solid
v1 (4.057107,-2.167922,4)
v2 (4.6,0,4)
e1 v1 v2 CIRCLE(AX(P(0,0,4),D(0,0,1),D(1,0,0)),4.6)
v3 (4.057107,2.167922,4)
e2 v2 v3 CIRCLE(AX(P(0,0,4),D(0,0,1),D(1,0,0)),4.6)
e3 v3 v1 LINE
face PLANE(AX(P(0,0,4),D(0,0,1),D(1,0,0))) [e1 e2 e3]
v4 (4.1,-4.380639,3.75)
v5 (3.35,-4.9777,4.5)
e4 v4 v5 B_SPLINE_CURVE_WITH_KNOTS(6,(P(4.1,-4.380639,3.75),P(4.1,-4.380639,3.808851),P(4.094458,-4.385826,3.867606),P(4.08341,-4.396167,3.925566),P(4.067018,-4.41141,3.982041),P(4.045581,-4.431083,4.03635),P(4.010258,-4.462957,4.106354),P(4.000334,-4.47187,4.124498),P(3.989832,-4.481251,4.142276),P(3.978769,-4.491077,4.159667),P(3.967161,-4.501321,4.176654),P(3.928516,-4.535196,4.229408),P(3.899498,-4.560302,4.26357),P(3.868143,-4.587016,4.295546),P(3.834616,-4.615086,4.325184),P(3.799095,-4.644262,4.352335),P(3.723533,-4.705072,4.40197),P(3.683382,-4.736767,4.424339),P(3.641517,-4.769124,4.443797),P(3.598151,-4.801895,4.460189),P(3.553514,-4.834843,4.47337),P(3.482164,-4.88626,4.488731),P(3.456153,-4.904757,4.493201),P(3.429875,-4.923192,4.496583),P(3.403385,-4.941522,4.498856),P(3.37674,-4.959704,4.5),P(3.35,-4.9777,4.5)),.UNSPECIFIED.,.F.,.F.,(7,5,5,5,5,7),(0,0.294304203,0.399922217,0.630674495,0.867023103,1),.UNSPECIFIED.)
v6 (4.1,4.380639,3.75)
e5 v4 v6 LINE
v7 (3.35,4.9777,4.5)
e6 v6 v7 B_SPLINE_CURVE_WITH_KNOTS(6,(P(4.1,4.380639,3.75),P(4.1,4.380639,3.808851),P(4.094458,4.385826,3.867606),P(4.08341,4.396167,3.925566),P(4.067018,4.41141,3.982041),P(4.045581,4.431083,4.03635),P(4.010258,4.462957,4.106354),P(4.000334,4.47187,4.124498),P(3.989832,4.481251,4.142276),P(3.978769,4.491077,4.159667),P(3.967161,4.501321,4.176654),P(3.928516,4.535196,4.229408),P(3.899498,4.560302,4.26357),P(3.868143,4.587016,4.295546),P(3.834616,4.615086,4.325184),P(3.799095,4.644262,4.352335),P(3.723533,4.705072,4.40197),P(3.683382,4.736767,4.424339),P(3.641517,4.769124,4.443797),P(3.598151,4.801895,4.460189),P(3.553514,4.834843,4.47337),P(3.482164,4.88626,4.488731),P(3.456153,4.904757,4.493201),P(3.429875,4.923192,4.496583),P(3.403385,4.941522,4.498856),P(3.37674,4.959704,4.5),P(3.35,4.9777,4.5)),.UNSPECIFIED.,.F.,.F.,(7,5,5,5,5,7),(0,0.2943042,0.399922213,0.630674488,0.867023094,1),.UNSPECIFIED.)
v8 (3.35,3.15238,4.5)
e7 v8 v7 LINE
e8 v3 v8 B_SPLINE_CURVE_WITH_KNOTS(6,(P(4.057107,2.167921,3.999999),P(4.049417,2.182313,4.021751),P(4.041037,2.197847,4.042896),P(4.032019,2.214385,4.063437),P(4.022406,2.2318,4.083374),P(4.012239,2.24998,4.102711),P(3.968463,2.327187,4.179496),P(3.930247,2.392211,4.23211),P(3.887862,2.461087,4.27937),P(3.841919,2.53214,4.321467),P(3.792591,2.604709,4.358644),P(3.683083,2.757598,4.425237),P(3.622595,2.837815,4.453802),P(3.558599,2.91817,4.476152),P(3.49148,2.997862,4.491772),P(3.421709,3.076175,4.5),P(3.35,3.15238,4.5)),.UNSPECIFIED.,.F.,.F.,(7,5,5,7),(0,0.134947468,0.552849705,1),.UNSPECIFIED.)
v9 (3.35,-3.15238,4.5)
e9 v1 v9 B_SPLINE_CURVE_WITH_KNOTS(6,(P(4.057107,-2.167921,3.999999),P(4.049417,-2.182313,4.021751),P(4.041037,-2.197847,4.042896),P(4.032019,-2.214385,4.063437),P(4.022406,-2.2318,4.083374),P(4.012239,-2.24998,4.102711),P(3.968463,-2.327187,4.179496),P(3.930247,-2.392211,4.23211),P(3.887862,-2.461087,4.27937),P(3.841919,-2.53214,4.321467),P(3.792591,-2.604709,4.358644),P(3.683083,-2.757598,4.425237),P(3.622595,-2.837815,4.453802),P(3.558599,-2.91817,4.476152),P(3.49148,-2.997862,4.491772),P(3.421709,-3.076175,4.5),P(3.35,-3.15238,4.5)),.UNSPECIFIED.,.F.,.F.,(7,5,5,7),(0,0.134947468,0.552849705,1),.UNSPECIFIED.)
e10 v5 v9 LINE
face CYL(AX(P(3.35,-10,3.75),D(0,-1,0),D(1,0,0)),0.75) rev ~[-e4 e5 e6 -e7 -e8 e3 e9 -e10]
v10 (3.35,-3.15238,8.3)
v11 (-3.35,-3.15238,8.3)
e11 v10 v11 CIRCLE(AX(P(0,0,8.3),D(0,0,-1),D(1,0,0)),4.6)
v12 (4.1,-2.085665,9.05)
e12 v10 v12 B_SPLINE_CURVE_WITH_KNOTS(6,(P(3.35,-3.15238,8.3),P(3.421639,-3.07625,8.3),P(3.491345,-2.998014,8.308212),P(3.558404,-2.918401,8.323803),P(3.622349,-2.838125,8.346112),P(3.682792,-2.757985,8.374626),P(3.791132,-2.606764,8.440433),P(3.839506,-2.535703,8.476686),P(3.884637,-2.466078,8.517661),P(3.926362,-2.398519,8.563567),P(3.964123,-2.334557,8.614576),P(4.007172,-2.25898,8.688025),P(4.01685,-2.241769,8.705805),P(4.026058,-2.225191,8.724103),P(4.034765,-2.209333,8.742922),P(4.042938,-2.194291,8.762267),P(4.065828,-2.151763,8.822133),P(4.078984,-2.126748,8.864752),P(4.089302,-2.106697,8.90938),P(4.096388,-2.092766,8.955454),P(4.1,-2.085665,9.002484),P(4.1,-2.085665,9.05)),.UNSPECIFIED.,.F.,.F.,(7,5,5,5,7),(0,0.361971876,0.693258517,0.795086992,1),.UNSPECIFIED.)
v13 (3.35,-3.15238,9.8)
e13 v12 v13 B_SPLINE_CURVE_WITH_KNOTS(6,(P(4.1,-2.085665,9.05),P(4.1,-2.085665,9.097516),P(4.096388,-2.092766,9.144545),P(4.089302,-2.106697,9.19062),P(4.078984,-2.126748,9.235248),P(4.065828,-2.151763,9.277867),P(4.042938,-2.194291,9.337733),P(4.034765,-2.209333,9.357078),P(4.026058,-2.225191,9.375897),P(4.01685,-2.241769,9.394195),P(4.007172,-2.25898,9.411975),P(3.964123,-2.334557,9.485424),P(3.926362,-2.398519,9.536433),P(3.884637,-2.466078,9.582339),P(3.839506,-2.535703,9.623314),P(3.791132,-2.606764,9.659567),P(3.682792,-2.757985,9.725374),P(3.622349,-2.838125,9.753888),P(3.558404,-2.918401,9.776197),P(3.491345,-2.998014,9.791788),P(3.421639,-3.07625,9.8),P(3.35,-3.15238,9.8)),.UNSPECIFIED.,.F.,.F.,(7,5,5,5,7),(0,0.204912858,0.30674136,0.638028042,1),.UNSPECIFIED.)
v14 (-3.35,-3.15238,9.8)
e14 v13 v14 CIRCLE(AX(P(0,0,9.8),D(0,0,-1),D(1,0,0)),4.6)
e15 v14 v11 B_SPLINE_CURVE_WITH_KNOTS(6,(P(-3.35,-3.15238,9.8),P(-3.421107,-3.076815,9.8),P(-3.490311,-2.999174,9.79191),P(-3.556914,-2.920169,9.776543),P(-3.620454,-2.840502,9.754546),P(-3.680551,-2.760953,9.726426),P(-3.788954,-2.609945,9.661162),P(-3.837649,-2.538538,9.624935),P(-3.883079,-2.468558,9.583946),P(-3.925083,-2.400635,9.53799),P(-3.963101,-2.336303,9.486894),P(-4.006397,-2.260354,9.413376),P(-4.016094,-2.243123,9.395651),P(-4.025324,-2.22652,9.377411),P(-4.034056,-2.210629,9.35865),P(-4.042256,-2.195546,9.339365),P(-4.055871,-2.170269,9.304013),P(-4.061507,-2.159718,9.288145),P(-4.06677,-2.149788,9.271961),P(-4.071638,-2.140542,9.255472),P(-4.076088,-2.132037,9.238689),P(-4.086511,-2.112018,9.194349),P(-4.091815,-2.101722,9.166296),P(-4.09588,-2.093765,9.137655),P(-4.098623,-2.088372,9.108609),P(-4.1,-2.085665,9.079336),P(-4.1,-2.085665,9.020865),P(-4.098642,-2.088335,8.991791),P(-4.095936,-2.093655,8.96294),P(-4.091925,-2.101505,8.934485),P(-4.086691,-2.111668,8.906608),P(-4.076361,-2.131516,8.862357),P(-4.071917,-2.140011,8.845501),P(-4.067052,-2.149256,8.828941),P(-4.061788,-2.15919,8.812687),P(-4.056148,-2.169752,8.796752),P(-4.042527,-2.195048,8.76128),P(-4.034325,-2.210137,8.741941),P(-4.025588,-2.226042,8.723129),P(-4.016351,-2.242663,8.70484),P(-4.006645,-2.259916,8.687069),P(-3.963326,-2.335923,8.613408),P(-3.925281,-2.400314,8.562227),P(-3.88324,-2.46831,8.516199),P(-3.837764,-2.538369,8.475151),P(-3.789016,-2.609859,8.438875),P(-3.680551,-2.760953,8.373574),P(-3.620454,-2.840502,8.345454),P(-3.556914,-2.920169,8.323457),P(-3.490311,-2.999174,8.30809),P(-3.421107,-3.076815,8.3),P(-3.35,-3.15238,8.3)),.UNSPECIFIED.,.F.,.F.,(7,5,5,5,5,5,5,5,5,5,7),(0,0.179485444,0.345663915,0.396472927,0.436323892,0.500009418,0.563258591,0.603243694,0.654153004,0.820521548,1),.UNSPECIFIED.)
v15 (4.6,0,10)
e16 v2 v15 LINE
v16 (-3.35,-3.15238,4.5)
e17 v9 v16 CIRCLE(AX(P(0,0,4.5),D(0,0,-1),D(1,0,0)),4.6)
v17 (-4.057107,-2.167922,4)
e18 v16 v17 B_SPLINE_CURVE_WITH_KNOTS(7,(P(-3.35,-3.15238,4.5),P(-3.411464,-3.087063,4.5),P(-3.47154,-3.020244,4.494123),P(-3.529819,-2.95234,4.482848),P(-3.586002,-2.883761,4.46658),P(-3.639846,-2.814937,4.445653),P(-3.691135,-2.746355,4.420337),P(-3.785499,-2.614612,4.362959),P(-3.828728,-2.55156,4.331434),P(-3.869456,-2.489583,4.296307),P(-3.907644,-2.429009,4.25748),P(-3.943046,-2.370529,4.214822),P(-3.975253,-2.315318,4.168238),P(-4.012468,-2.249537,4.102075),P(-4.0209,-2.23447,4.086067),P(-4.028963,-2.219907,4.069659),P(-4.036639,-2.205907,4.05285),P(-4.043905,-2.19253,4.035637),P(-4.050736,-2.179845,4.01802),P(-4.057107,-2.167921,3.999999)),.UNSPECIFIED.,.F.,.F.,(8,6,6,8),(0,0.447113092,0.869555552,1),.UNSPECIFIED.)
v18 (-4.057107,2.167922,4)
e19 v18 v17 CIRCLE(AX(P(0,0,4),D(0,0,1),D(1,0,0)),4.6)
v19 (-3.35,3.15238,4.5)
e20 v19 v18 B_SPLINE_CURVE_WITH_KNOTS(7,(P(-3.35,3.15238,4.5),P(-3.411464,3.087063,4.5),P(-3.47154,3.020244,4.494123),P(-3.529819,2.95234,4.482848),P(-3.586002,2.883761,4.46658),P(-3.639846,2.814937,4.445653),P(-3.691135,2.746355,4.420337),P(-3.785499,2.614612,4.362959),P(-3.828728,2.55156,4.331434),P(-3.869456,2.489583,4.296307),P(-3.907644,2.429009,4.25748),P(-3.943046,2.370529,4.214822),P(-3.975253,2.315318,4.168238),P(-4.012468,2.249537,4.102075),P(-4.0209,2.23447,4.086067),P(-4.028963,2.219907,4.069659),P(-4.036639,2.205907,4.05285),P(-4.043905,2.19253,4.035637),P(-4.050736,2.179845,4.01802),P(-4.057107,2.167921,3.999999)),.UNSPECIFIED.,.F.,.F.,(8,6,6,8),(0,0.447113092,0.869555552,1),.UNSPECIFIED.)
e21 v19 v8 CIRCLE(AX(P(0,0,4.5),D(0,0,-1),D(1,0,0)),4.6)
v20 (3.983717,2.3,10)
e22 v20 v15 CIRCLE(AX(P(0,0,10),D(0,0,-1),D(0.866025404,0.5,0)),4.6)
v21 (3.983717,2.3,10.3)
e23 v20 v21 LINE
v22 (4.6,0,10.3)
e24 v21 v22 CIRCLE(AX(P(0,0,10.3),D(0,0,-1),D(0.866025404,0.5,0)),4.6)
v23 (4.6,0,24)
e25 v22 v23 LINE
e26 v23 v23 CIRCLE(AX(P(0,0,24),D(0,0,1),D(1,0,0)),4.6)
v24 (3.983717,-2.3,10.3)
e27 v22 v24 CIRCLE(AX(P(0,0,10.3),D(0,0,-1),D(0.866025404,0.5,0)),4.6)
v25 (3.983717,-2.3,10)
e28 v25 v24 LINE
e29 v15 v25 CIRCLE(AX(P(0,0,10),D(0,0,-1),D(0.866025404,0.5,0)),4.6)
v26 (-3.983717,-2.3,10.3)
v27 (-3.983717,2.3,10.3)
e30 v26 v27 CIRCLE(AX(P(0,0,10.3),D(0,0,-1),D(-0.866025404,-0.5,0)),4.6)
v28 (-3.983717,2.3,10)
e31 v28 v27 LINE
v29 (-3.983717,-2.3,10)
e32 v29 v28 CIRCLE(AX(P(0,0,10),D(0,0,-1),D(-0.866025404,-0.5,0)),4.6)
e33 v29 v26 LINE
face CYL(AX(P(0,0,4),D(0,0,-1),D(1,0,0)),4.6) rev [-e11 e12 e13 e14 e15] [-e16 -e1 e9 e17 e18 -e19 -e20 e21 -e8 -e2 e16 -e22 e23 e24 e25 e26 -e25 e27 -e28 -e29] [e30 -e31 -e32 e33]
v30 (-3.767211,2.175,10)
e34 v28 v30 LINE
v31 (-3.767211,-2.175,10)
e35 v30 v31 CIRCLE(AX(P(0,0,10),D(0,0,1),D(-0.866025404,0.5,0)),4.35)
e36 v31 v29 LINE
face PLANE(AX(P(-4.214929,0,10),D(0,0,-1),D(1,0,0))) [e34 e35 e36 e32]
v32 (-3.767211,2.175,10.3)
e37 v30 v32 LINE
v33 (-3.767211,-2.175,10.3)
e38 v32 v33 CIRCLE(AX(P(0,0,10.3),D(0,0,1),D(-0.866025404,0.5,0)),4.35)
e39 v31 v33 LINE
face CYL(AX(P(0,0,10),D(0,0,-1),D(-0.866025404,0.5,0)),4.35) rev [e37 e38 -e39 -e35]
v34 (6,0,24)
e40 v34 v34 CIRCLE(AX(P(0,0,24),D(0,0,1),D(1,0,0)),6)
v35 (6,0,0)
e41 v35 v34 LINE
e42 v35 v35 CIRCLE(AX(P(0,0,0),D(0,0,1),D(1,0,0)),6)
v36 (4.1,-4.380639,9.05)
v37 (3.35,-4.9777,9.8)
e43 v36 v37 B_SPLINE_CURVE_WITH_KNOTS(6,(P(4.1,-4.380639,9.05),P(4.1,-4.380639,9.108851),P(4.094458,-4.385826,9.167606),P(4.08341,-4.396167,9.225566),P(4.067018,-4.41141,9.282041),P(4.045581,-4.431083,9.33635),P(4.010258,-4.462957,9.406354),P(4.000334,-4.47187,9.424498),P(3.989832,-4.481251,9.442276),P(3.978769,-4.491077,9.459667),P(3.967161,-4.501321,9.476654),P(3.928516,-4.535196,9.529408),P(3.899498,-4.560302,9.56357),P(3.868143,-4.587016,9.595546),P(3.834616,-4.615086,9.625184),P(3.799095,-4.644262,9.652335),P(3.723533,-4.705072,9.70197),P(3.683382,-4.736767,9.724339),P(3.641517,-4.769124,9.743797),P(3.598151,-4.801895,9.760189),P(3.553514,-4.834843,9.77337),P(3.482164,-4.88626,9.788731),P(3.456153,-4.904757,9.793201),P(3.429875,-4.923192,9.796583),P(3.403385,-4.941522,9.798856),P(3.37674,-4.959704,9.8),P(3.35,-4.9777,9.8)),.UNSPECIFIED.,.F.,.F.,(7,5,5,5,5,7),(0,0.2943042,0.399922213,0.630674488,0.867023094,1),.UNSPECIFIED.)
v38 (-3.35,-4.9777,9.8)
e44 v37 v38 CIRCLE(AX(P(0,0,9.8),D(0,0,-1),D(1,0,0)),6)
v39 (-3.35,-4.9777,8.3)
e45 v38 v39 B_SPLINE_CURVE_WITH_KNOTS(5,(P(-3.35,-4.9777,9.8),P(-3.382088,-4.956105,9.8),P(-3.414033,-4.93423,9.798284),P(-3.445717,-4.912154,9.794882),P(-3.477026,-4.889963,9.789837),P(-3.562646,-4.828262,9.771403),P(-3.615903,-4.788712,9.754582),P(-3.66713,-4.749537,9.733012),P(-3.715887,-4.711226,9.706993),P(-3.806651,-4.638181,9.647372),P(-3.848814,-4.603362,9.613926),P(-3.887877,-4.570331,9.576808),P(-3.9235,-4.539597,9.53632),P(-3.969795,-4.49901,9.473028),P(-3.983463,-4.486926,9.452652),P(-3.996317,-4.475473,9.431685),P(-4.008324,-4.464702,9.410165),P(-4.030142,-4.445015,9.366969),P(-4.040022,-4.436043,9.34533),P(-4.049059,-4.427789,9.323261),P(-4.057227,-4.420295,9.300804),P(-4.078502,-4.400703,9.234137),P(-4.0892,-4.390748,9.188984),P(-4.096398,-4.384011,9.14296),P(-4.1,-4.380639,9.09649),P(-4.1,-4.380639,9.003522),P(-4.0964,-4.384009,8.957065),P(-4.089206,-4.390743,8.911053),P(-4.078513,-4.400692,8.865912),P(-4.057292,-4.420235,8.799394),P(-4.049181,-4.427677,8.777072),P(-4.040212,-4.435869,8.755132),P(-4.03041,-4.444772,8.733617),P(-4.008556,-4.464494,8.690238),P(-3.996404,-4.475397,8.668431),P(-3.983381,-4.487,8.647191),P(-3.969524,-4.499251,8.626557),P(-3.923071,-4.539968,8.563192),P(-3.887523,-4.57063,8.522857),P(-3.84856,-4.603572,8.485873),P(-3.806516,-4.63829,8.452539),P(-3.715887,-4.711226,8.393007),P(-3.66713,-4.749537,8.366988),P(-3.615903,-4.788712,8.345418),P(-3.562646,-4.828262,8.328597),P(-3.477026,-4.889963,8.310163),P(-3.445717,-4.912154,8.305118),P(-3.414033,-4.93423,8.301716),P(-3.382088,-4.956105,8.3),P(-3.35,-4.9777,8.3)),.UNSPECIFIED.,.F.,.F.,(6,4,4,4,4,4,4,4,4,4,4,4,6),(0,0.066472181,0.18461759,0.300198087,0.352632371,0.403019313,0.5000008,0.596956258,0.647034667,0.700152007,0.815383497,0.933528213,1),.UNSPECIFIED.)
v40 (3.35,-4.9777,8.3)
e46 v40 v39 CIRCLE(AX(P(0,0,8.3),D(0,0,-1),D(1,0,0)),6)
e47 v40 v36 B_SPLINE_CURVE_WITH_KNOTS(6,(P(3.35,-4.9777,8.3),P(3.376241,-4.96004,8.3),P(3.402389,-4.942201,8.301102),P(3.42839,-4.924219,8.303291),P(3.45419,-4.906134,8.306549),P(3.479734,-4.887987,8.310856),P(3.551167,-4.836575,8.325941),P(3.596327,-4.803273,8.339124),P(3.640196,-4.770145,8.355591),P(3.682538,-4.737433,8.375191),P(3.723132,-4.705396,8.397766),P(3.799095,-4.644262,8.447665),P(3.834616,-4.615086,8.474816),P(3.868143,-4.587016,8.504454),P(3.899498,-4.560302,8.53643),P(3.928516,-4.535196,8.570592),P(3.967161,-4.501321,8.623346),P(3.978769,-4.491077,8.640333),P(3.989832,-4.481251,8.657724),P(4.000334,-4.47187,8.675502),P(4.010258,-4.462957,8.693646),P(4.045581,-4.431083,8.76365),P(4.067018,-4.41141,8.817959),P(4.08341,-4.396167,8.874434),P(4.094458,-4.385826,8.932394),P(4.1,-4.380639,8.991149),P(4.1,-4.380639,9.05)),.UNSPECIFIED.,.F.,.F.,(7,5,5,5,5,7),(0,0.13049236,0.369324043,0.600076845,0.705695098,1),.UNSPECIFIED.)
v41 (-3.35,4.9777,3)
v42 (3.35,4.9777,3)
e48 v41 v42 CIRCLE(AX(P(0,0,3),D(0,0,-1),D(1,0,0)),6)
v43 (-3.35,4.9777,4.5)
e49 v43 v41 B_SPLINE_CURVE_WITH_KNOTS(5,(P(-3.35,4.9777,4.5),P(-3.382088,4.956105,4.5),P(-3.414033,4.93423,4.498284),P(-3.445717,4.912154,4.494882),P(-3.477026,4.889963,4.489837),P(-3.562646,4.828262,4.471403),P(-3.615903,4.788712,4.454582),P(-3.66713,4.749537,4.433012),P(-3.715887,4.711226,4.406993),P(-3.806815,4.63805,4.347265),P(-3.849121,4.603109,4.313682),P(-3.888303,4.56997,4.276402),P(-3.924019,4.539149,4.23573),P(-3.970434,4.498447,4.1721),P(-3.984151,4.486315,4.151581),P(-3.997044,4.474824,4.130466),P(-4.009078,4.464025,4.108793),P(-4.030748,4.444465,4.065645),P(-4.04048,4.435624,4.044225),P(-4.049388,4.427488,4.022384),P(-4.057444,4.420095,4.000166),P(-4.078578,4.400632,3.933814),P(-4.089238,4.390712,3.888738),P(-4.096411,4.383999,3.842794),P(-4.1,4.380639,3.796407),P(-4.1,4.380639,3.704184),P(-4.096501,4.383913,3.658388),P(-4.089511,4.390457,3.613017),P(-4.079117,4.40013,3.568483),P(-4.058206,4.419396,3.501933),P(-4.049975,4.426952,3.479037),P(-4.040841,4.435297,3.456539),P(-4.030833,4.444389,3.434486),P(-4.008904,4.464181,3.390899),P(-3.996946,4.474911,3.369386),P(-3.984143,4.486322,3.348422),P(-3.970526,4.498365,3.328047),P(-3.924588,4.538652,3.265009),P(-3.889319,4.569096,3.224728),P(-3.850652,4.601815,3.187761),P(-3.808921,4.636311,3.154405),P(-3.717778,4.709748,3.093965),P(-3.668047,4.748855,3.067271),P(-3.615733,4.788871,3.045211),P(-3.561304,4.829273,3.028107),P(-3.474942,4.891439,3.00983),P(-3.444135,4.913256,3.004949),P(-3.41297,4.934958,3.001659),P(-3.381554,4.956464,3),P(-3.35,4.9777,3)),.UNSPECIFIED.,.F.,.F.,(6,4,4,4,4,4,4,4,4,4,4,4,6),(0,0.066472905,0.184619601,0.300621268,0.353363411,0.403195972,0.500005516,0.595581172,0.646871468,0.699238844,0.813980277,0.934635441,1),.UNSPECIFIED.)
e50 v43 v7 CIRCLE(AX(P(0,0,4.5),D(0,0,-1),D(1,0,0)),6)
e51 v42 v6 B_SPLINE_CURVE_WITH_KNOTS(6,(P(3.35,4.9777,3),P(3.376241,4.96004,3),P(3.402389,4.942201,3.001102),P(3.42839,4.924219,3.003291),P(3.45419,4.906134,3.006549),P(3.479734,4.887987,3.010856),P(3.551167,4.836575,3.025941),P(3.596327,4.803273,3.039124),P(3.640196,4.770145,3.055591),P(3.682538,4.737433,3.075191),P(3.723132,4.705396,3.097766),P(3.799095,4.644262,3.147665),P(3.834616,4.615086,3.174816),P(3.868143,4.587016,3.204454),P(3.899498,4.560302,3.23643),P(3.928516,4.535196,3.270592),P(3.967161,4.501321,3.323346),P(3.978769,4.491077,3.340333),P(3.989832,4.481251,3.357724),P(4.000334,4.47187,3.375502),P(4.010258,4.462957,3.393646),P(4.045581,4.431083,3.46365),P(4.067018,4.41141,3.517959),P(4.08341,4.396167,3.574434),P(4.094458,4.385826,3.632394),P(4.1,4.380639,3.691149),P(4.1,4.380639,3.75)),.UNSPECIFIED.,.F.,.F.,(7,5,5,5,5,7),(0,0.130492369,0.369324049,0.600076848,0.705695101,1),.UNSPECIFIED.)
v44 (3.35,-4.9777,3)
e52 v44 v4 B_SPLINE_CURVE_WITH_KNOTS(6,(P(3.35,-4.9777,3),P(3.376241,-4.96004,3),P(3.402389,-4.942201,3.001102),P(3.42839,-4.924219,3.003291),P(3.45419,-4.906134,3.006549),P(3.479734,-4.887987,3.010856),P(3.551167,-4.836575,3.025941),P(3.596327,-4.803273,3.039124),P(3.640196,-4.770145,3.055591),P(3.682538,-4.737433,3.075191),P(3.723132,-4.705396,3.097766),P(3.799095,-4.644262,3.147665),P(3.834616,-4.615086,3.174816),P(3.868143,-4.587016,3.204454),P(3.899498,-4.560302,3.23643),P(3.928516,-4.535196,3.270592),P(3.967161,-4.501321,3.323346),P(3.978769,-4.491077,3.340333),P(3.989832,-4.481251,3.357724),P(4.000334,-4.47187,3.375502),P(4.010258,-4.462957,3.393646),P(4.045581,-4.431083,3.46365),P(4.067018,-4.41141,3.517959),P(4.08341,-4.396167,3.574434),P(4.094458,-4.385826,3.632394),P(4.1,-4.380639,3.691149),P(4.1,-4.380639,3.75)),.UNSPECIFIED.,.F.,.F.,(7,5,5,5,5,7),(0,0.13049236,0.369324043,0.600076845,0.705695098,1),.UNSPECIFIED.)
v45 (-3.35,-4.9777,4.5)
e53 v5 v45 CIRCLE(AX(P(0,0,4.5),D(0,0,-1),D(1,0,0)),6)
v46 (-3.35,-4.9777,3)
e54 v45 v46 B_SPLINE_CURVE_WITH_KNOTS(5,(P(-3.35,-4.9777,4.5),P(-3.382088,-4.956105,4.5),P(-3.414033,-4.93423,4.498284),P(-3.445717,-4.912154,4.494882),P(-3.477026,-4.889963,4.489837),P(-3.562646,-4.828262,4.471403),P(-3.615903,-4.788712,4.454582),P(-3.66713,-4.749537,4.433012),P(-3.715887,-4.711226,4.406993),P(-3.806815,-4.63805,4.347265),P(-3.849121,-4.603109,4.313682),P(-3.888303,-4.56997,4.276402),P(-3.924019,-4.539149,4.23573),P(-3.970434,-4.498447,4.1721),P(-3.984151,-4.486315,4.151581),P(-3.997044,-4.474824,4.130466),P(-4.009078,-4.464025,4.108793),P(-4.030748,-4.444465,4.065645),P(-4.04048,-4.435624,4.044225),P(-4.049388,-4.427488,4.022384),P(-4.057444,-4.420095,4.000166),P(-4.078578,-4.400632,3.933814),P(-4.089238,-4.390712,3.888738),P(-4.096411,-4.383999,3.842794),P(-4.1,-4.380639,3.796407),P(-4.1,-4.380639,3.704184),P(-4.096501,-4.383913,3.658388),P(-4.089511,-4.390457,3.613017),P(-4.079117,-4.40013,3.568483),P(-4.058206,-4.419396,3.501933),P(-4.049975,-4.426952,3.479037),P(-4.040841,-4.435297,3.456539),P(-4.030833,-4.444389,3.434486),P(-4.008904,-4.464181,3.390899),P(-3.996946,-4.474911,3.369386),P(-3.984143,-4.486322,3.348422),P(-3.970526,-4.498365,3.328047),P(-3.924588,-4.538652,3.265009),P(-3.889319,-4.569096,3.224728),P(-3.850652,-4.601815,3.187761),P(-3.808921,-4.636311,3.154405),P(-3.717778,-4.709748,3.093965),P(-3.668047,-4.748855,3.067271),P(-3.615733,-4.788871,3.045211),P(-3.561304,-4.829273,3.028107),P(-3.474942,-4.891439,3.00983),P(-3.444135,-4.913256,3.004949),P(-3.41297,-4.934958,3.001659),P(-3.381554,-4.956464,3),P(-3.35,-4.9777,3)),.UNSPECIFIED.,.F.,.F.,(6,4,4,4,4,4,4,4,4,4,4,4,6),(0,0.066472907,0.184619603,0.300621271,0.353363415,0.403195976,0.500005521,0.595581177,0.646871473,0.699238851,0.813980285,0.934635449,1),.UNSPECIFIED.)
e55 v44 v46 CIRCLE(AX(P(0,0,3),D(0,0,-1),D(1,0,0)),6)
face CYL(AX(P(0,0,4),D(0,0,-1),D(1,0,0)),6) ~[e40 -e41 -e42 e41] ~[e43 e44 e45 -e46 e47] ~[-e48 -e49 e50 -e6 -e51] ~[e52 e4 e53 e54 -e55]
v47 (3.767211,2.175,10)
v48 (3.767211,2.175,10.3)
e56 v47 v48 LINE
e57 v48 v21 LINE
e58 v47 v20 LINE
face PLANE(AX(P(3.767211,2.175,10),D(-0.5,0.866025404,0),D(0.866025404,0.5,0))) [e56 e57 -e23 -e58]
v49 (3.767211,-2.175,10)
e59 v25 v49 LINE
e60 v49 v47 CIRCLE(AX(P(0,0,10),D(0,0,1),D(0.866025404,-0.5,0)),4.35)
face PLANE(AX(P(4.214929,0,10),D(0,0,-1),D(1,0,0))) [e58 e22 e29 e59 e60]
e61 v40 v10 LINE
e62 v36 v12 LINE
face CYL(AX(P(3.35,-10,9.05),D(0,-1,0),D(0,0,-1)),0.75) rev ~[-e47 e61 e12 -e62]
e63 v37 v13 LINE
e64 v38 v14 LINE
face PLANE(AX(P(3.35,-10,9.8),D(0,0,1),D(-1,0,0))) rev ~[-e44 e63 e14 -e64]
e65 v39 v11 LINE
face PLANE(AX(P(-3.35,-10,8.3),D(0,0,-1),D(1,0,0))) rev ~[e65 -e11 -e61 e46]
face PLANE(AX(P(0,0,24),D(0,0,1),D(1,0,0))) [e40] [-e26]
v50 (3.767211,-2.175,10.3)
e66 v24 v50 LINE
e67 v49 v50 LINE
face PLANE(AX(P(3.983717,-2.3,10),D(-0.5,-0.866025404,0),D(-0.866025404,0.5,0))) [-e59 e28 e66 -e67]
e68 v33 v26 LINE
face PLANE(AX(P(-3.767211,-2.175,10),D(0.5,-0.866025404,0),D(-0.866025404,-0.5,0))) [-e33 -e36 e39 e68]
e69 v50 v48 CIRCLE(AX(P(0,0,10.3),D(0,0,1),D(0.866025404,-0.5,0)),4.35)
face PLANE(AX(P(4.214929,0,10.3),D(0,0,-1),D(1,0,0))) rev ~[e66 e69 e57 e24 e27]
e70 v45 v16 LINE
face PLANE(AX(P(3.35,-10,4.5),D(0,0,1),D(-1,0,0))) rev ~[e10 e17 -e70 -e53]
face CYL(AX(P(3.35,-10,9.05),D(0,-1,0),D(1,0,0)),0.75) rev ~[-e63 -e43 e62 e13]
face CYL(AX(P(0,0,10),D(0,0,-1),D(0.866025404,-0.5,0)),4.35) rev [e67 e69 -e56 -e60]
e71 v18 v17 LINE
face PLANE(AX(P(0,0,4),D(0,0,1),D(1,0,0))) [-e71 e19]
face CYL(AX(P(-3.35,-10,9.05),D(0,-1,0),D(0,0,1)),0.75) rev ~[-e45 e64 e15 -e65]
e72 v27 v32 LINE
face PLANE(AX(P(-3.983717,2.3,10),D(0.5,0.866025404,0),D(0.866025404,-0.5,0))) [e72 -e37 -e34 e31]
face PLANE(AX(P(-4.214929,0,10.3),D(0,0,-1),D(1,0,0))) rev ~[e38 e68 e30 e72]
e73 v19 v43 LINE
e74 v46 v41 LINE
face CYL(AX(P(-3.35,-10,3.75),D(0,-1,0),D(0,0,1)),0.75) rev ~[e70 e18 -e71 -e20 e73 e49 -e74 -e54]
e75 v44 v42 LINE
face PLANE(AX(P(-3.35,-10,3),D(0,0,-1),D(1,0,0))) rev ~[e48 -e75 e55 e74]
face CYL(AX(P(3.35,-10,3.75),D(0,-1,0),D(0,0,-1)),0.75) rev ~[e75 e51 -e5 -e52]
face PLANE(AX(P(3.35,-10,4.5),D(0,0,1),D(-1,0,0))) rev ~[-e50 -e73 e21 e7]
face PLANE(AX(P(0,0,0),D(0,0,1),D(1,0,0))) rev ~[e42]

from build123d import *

# Parameters (mm, degrees)
F0_R      = 6
F1_DEPTH  = 4
F2_R      = 6
F2_R_2    = 4.6
F3_DEPTH  = 20
F6_DEPTH  = 25
F9_DEPTH  = 0.3
F11_DEPTH = 10


with BuildPart() as f1:
    # F0 (on Top) → F1 (new body)
    with BuildSketch(Plane.XY):
        Circle(F0_R)
    extrude(amount=F1_DEPTH)

    # F2 (on face) → F3 (join)
    with BuildSketch(Plane.XY.offset(4)):
        Circle(F2_R)
        Circle(F2_R_2, mode=Mode.SUBTRACT)
    extrude(amount=F3_DEPTH)

    # F5 (on offset) → F6 (cut)
    with BuildSketch(Plane.XZ.offset(10)):
        with BuildLine():
            ThreePointArc((-2.6, 3.75), (-2.8196699141, 4.2803300859), (-3.35, 4.5))
            Line((-3.35, 4.5), (-3.35, 3))
            ThreePointArc((-3.35, 3), (-2.8196699141, 3.2196699141), (-2.6, 3.75))
        make_face()
        with BuildLine():
            Line((3.35, 4.5), (-3.35, 4.5))
            ThreePointArc((-3.35, 4.5), (-2.8196699141, 4.2803300859), (-2.6, 3.75))
            ThreePointArc((-2.6, 3.75), (-2.8196699141, 3.2196699141), (-3.35, 3))
            Line((-3.35, 3), (3.35, 3))
            ThreePointArc((3.35, 3), (2.6, 3.75), (3.35, 4.5))
        make_face()
        with BuildLine():
            Line((-3.35, 3), (-3.35, 4.5))
            ThreePointArc((-3.35, 4.5), (-4.1, 3.75), (-3.35, 3))
        make_face()
        with BuildLine():
            ThreePointArc((4.1, 3.75), (3.8803300859, 4.2803300859), (3.35, 4.5))
            Line((3.35, 4.5), (3.35, 3))
            ThreePointArc((3.35, 3), (3.8803300859, 3.2196699141), (4.1, 3.75))
        make_face()
        with BuildLine():
            Line((3.35, 3), (3.35, 4.5))
            ThreePointArc((3.35, 4.5), (2.6, 3.75), (3.35, 3))
        make_face()
    extrude(amount=-F6_DEPTH, mode=Mode.SUBTRACT)

    # F8 (on offset) → F9 (join)
    with BuildSketch(Plane(origin=(0, 0, 10), x_dir=(1, 0, 0), z_dir=(0, 0, -1))):
        with BuildLine():
            ThreePointArc((-3.7672105065, -2.175), (-4.35, 0), (-3.7672105065, 2.175))
            Line((-3.7672105065, 2.175), (-3.9837168574, 2.3))
            ThreePointArc((-3.9837168574, 2.3), (-4.6, 0), (-3.9837168574, -2.3))
            Line((-3.9837168574, -2.3), (-3.7672105065, -2.175))
        make_face()
        with BuildLine():
            Line((3.7672105065, -2.175), (3.9837168574, -2.3))
            ThreePointArc((3.9837168574, -2.3), (4.6, 0), (3.9837168574, 2.3))
            Line((3.9837168574, 2.3), (3.7672105065, 2.175))
            ThreePointArc((3.7672105065, 2.175), (4.35, 0), (3.7672105065, -2.175))
        make_face()
    extrude(amount=-F9_DEPTH)

    # F10 (on offset) → F11 (cut)
    with BuildSketch(Plane.XZ.offset(10)):
        with BuildLine():
            ThreePointArc((-2.6, 9.05), (-2.8196699141, 9.5803300859), (-3.35, 9.8))
            Line((-3.35, 9.8), (-3.35, 8.3))
            ThreePointArc((-3.35, 8.3), (-2.8196699141, 8.5196699141), (-2.6, 9.05))
        make_face()
        with BuildLine():
            Line((3.35, 9.8), (-3.35, 9.8))
            ThreePointArc((-3.35, 9.8), (-2.8196699141, 9.5803300859), (-2.6, 9.05))
            ThreePointArc((-2.6, 9.05), (-2.8196699141, 8.5196699141), (-3.35, 8.3))
            Line((-3.35, 8.3), (3.35, 8.3))
            ThreePointArc((3.35, 8.3), (2.6, 9.05), (3.35, 9.8))
        make_face()
        with BuildLine():
            Line((-3.35, 8.3), (-3.35, 9.8))
            ThreePointArc((-3.35, 9.8), (-4.1, 9.05), (-3.35, 8.3))
        make_face()
        with BuildLine():
            ThreePointArc((4.1, 9.05), (3.8803300859, 9.5803300859), (3.35, 9.8))
            Line((3.35, 9.8), (3.35, 8.3))
            ThreePointArc((3.35, 8.3), (3.8803300859, 8.5196699141), (4.1, 9.05))
        make_face()
        with BuildLine():
            Line((3.35, 8.3), (3.35, 9.8))
            ThreePointArc((3.35, 9.8), (2.6, 9.05), (3.35, 8.3))
        make_face()
    extrude(amount=-F11_DEPTH, mode=Mode.SUBTRACT)


solid = f1.part
